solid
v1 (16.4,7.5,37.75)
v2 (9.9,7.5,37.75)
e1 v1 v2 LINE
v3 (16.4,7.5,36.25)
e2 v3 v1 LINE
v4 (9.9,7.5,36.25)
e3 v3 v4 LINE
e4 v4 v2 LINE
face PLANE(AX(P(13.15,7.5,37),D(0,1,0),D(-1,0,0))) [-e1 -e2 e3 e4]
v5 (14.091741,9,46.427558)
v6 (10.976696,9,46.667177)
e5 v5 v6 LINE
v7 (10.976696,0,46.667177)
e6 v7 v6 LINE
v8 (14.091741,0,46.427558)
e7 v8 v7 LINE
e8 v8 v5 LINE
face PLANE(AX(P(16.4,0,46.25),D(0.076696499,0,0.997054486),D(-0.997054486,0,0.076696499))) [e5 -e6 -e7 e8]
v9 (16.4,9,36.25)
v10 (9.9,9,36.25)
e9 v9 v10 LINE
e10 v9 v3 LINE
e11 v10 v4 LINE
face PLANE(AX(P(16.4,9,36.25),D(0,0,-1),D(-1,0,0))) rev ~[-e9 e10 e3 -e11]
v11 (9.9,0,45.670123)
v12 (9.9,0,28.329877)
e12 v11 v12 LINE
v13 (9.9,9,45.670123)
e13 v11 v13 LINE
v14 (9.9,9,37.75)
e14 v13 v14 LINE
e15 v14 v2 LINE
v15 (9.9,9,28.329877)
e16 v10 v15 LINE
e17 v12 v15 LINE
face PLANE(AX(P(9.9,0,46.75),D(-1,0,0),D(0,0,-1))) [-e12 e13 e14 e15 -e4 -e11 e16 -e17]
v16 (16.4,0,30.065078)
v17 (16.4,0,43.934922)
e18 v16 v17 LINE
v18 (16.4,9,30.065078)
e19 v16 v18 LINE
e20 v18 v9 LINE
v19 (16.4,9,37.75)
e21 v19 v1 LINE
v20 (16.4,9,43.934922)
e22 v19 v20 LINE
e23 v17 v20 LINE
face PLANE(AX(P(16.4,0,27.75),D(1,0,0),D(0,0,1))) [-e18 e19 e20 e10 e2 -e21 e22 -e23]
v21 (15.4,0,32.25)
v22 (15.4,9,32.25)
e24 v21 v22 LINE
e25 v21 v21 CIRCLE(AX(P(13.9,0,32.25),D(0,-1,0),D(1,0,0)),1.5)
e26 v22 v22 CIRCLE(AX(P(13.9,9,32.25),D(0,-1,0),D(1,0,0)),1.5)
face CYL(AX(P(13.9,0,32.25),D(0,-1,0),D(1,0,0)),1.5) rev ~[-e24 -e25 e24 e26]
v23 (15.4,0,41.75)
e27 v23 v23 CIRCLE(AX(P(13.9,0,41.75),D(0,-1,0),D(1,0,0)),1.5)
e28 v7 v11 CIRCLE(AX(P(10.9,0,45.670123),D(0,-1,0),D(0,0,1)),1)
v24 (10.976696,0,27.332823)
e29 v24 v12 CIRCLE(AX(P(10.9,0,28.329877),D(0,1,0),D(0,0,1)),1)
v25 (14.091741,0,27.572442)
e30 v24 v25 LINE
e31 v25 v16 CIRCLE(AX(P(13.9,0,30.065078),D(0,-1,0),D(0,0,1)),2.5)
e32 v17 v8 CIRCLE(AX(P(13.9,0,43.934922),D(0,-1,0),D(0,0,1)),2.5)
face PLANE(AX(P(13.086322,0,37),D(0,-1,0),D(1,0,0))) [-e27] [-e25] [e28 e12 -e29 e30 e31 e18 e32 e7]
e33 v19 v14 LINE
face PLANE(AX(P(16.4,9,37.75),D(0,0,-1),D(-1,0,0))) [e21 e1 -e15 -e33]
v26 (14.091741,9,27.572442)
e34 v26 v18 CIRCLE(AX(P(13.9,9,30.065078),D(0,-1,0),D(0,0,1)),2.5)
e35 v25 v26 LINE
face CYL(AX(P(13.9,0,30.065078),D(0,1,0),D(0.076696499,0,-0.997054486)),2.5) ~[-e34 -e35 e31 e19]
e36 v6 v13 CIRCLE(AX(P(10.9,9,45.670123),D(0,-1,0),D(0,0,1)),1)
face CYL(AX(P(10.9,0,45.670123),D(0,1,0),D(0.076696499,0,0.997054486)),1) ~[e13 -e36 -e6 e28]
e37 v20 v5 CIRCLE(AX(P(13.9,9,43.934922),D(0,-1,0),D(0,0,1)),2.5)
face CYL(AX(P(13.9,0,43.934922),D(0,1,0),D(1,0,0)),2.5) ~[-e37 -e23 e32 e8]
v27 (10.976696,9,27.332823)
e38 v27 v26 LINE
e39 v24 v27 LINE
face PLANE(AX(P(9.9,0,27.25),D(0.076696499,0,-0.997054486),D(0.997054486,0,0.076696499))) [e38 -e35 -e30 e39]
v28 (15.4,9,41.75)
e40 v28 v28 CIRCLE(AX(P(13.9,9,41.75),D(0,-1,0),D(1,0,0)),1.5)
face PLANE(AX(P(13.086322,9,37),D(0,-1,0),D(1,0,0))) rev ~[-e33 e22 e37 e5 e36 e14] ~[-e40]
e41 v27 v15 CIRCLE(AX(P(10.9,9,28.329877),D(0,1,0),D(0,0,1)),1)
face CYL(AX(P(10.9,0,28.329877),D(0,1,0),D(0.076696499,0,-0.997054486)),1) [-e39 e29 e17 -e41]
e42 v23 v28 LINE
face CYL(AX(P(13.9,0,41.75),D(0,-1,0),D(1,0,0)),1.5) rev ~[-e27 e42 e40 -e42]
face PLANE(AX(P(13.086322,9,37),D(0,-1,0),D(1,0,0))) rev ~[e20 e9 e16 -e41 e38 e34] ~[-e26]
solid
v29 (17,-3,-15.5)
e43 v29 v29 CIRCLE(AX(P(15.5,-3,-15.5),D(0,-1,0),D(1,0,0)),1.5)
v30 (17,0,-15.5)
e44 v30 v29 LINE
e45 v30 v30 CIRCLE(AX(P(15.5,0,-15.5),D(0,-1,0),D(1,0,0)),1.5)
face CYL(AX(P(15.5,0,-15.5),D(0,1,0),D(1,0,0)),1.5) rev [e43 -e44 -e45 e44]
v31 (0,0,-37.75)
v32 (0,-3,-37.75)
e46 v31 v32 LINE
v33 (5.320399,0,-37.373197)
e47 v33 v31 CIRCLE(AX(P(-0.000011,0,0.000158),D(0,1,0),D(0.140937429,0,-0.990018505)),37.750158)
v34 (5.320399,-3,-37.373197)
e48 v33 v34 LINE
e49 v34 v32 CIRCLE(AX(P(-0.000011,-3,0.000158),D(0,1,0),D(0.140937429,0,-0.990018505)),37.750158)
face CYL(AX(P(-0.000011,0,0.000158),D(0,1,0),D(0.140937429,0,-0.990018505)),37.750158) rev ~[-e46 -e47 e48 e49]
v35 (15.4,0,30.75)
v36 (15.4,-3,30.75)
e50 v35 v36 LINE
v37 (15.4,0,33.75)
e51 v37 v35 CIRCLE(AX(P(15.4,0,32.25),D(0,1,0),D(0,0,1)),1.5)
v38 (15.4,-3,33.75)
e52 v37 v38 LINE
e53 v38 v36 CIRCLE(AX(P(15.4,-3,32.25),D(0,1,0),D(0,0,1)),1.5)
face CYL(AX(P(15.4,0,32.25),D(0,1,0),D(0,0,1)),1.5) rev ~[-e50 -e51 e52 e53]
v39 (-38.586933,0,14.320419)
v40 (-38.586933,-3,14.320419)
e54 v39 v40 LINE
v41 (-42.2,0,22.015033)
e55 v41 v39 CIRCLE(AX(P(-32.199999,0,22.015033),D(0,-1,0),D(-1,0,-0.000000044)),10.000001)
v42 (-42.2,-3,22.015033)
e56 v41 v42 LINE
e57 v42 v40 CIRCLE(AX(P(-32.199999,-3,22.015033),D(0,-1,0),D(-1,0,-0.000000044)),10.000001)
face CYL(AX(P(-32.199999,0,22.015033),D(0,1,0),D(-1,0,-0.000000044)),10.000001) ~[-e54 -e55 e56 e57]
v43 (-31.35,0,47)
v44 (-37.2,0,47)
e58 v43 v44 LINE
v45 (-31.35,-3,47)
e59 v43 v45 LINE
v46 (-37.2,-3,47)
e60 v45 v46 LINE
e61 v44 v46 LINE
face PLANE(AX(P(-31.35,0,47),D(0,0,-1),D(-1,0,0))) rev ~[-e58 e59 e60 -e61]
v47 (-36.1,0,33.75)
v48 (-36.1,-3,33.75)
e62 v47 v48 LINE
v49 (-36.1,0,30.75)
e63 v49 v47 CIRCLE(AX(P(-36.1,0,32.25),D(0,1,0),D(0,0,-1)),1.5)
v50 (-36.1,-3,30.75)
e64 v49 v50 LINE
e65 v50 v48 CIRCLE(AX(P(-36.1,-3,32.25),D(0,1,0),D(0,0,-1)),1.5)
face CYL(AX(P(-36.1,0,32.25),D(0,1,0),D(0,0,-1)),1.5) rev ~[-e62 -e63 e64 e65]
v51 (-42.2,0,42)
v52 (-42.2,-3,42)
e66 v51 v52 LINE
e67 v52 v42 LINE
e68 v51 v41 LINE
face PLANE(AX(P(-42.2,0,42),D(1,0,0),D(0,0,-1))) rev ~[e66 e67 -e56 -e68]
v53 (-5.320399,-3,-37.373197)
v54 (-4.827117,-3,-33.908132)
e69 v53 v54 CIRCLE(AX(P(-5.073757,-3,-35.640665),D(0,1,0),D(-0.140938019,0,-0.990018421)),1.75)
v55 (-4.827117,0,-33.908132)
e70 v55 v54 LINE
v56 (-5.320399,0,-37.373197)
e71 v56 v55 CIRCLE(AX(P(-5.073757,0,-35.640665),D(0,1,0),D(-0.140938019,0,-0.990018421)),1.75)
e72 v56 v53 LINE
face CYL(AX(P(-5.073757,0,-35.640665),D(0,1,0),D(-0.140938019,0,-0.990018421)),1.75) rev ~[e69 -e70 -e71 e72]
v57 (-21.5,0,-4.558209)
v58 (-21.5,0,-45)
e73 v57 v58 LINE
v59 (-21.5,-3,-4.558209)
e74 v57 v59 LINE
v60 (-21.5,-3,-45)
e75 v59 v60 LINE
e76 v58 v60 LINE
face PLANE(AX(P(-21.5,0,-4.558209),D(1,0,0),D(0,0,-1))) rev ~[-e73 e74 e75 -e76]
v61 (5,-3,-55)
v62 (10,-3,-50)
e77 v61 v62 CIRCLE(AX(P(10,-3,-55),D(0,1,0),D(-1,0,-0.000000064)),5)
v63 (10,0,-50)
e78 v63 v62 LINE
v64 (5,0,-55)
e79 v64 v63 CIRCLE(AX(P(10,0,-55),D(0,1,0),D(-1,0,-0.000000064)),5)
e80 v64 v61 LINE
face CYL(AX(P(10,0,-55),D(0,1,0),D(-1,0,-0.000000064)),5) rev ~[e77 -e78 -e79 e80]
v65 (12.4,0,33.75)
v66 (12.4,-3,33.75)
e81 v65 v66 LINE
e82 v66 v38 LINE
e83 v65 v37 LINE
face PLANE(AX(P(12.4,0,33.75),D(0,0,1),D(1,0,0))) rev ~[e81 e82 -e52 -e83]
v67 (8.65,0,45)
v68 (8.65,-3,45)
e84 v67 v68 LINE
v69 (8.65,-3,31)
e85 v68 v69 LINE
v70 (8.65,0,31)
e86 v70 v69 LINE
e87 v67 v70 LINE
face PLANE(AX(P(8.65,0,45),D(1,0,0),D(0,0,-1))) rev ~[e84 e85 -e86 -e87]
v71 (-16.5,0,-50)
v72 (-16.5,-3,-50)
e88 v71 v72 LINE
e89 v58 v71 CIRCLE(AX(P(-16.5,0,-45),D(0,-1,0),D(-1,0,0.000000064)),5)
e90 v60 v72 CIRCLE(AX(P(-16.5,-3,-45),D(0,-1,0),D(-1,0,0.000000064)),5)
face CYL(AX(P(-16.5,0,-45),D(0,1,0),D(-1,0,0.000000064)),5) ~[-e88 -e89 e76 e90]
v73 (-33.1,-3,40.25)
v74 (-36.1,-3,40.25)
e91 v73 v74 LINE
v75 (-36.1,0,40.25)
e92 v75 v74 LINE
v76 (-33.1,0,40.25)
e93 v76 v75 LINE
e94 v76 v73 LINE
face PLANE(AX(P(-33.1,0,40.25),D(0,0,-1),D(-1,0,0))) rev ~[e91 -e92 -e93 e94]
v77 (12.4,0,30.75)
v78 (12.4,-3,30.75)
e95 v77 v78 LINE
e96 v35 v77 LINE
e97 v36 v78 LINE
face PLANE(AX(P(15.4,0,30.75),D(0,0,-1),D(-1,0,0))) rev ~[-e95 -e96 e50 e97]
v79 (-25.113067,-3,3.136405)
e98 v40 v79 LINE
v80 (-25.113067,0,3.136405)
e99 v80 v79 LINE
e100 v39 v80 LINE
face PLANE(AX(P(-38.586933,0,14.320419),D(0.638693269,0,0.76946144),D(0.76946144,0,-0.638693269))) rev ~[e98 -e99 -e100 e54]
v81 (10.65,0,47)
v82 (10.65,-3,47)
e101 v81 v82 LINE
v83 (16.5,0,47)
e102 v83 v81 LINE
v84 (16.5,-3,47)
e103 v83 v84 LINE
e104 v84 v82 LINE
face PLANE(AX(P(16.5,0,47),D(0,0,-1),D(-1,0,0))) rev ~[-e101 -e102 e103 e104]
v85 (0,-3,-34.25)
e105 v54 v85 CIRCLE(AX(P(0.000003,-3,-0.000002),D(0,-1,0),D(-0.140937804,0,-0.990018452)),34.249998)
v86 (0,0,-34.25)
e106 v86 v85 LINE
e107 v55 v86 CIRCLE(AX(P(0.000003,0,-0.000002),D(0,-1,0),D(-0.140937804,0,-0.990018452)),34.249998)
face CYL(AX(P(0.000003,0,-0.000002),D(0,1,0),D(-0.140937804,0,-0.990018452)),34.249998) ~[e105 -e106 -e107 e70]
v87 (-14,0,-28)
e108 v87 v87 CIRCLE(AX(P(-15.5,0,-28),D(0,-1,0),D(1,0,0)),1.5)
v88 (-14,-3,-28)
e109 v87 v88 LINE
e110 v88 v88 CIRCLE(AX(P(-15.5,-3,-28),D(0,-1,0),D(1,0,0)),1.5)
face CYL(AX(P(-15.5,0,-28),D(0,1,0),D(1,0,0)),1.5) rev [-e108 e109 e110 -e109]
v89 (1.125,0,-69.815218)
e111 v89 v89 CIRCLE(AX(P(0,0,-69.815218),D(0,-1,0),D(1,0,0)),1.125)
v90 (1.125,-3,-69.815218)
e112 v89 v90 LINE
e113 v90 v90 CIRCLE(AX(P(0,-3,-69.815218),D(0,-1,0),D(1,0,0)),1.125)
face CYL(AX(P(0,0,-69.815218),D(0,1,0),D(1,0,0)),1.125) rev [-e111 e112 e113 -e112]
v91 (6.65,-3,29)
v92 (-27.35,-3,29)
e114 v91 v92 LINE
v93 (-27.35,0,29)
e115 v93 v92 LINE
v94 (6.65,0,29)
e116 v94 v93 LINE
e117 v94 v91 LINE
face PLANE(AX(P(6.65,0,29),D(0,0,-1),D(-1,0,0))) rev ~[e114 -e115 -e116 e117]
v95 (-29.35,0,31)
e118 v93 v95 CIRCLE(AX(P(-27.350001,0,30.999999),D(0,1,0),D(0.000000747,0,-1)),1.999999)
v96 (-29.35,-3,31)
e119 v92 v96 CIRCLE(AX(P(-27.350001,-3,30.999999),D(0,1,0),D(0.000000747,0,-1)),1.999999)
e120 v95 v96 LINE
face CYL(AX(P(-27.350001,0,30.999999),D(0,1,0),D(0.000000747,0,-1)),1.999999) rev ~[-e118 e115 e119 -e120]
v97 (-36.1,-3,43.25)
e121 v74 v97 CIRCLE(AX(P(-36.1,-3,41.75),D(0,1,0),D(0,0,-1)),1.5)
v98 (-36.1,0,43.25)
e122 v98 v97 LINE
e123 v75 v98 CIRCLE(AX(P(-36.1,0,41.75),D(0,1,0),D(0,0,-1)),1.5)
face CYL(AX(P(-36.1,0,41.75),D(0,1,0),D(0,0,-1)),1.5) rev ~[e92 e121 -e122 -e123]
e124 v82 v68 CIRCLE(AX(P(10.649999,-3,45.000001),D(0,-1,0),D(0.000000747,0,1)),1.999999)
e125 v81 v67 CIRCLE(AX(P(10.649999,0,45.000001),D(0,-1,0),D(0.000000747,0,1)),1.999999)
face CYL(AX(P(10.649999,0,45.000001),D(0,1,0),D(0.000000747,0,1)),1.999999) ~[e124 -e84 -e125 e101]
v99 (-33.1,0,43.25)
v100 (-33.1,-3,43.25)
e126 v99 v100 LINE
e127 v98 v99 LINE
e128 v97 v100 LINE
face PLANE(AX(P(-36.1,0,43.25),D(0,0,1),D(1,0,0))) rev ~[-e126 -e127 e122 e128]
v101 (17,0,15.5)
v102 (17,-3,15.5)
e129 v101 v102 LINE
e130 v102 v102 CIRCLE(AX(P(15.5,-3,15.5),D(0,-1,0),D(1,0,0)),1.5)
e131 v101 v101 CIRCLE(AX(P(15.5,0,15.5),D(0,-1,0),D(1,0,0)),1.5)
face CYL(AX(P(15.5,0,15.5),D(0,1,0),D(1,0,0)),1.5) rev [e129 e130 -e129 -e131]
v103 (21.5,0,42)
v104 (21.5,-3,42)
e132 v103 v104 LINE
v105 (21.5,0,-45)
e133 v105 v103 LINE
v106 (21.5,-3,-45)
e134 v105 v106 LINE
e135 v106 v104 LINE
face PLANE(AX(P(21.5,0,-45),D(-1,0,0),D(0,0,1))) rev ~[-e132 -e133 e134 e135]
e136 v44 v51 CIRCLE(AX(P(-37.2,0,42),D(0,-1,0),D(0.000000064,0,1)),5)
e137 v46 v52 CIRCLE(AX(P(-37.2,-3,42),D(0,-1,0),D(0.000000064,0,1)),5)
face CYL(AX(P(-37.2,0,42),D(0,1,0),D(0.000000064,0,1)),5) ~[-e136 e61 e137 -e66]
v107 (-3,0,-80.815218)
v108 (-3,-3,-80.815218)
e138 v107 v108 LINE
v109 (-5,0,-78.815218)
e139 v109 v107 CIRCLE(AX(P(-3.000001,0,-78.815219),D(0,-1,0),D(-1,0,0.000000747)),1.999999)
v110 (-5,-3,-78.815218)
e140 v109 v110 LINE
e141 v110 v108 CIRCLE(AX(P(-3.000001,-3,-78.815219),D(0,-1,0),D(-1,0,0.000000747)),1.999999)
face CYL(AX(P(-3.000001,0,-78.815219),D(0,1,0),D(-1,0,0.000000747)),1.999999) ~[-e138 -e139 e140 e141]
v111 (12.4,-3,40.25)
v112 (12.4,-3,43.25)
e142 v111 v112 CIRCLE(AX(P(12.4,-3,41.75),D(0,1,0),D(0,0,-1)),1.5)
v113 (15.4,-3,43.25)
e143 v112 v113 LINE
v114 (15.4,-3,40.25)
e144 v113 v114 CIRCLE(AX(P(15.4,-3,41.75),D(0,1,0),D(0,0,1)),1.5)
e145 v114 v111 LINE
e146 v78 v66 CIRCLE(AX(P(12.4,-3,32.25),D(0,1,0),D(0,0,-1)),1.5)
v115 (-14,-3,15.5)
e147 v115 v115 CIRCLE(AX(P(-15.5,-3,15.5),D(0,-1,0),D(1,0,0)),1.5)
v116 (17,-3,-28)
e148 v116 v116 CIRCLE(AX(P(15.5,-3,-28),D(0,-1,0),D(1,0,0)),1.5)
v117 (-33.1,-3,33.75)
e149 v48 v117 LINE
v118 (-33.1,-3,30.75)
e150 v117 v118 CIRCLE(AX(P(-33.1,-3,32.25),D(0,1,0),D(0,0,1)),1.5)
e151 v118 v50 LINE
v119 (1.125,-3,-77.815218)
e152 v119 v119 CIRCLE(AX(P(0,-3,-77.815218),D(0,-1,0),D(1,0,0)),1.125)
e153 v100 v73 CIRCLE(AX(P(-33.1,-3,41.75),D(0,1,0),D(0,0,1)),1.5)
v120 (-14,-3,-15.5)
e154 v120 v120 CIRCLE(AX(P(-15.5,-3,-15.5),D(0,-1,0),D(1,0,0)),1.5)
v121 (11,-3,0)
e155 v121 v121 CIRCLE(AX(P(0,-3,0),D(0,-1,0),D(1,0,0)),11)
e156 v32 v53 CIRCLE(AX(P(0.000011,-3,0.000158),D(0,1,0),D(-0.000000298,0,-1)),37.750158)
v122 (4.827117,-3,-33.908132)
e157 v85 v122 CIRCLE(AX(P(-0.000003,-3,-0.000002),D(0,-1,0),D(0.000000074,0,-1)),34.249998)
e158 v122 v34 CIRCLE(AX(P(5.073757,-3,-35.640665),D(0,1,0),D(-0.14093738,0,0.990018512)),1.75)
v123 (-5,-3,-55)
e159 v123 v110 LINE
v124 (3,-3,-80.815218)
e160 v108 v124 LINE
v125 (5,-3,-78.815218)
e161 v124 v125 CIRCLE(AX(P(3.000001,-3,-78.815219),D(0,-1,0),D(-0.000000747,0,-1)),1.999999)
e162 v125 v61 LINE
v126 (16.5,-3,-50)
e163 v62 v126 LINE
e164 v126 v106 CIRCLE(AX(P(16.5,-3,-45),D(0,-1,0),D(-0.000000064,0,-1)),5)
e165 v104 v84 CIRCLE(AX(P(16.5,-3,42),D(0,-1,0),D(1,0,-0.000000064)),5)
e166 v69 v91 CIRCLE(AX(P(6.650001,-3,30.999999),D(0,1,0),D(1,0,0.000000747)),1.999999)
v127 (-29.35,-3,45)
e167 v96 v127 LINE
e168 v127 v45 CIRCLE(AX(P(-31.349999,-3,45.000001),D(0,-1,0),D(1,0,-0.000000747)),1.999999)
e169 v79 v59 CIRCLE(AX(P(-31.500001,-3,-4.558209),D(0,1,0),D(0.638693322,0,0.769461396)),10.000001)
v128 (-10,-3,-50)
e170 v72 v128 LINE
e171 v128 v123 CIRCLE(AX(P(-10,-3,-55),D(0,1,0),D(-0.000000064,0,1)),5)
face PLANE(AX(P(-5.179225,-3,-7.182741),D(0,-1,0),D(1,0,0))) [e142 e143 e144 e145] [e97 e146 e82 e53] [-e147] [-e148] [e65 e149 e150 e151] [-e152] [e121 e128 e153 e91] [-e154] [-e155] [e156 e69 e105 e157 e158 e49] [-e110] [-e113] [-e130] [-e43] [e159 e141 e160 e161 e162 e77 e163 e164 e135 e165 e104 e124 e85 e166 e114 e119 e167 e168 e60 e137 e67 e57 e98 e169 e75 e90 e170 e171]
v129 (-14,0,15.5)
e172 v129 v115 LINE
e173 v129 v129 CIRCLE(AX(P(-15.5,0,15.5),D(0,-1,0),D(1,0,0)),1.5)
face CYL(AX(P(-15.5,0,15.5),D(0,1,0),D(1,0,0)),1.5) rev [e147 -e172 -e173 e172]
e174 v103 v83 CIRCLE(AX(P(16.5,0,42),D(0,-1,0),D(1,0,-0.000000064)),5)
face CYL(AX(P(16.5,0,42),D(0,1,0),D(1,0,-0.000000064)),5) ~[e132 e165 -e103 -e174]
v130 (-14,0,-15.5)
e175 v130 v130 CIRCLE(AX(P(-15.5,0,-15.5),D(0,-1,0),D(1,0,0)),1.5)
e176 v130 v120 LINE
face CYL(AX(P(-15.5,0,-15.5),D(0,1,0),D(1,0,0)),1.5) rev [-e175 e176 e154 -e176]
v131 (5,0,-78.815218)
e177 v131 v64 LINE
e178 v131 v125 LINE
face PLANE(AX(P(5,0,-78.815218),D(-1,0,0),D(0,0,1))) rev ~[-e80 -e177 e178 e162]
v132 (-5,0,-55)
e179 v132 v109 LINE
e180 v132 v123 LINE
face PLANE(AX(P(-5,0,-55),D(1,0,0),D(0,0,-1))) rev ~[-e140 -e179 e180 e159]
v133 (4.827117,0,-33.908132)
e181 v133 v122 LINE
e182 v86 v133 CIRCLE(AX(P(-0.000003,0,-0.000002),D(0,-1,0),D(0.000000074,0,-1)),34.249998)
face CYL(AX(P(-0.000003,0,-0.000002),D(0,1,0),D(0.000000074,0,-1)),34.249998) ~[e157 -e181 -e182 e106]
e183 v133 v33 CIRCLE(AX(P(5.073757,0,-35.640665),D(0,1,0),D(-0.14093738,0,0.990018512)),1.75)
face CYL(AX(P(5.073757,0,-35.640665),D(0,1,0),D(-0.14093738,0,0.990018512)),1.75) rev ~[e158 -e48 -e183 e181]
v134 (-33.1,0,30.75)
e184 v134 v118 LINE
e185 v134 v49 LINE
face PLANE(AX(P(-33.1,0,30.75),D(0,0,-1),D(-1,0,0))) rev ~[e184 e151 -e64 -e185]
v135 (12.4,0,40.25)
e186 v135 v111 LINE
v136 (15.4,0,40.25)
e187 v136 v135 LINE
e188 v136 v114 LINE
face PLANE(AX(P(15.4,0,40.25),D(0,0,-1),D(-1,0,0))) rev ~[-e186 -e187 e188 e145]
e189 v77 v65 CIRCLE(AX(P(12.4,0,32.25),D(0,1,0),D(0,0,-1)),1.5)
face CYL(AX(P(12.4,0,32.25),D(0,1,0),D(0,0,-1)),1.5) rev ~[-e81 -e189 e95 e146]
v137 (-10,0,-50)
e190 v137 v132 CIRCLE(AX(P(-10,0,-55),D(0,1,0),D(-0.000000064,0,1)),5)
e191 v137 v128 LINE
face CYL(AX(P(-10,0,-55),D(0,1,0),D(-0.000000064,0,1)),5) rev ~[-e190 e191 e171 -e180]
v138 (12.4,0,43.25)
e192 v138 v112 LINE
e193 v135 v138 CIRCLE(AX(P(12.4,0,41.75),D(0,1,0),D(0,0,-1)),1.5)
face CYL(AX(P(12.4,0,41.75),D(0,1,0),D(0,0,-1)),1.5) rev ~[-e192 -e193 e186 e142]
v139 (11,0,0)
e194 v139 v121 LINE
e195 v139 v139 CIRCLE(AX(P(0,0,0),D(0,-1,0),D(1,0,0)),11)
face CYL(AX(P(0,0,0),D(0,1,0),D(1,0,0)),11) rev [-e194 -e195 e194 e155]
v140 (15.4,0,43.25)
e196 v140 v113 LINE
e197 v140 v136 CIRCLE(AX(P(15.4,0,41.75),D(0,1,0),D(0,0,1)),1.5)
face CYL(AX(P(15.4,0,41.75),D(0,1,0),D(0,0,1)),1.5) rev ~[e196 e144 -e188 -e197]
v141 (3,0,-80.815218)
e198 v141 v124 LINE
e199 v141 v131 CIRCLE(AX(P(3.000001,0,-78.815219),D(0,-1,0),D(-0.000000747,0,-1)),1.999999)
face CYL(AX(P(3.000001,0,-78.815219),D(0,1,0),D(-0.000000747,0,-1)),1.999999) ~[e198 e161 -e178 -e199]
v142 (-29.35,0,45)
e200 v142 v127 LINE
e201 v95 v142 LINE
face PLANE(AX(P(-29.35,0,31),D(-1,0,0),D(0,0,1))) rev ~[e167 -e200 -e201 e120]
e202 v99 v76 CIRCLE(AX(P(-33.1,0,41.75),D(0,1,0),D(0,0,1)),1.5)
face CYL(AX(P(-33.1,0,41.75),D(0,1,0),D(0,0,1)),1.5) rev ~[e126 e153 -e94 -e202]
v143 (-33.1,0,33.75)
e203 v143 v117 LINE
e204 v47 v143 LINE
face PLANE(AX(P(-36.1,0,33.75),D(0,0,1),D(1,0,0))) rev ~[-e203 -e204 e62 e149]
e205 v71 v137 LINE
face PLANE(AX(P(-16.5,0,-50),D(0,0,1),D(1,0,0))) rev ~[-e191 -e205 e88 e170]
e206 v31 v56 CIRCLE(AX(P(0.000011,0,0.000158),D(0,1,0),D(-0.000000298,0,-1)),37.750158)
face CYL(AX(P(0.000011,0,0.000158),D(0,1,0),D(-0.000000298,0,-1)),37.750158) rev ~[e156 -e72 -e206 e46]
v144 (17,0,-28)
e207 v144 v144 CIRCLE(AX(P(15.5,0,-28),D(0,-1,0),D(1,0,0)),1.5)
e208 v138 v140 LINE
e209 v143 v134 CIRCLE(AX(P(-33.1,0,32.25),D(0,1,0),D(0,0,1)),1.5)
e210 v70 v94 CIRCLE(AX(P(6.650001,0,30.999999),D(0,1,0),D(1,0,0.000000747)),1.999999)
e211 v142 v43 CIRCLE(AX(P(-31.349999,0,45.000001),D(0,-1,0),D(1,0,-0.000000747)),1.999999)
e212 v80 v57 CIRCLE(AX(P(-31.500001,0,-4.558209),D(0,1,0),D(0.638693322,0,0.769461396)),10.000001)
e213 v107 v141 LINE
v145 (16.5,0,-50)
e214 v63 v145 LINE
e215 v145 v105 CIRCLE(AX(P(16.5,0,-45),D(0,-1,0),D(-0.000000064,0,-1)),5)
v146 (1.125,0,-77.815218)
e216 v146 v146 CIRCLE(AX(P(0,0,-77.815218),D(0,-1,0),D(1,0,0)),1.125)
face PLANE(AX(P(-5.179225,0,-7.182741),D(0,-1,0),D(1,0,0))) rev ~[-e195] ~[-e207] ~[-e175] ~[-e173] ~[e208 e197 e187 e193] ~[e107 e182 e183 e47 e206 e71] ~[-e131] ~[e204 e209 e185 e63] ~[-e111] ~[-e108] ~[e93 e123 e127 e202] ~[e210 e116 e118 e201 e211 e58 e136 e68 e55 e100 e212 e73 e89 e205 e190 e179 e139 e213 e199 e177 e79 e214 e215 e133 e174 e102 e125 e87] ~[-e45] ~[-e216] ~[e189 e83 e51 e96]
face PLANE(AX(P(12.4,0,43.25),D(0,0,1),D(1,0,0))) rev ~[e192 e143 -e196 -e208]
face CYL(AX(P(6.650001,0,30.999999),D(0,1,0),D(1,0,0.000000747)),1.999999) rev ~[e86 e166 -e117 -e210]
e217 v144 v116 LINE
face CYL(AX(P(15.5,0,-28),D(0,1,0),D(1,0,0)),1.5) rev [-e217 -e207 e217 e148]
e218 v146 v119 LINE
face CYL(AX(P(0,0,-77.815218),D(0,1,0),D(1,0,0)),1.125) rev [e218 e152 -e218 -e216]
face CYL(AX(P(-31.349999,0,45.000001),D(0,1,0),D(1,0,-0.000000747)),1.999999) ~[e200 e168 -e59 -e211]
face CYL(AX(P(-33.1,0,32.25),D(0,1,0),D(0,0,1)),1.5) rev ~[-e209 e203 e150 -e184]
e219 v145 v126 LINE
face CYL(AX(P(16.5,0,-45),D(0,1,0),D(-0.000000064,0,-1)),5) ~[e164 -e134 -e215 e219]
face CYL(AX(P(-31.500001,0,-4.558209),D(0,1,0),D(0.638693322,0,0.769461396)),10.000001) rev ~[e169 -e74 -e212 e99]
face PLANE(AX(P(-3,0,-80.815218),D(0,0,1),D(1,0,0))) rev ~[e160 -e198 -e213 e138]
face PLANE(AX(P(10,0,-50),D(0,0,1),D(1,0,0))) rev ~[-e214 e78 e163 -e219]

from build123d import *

# Parameters (mm, degrees)
F1_R     = 1.5
F1_R_2   = 1.125
F1_R_3   = 11
F2_DEPTH = 3
F3_R     = 1.5
F4_DEPTH = 9
F5_W     = 6.5
F5_H     = 1.5
F6_DEPTH = 1.5
F7_R     = 1
F8_R     = 2.5


with BuildPart() as f2:
    # F1 (on Front) → F2 (new body)
    with BuildSketch(Plane.XZ):
        with BuildLine():
            ThreePointArc((16.5, -50), (20.035534, -48.535534), (21.5, -45))
            Line((21.5, -45), (21.5, 42))
            ThreePointArc((21.5, 42), (20.035534, 45.535534), (16.5, 47))
            Line((16.5, 47), (10.65, 47))
            ThreePointArc((10.65, 47), (9.235786, 46.414214), (8.65, 45))
            Line((8.65, 45), (8.65, 31))
            ThreePointArc((8.65, 31), (8.064214, 29.585786), (6.65, 29))
            Line((6.65, 29), (-27.35, 29))
            ThreePointArc((-27.35, 29), (-28.764214, 29.585786), (-29.35, 31))
            Line((-29.35, 31), (-29.35, 45))
            ThreePointArc((-29.35, 45), (-29.935786, 46.414214), (-31.35, 47))
            Line((-31.35, 47), (-37.2, 47))
            ThreePointArc((-37.2, 47), (-40.735534, 45.535534), (-42.2, 42))
            Line((-42.2, 42), (-42.2, 22.015033))
            ThreePointArc((-42.2, 22.015033), (-41.251777, 17.7647), (-38.586933, 14.320419))
            Line((-38.586933, 14.320419), (-25.113067, 3.136405))
            ThreePointArc((-25.113067, 3.136405), (-22.448223, -0.307876), (-21.5, -4.558209))
            Line((-21.5, -4.558209), (-21.5, -45))
            ThreePointArc((-21.5, -45), (-20.035534, -48.535534), (-16.5, -50))
            Line((-16.5, -50), (-10, -50))
            ThreePointArc((-10, -50), (-6.464466, -51.464466), (-5, -55))
            Line((-5, -55), (-5, -78.815218))
            ThreePointArc((-5, -78.815218), (-4.414214, -80.229432), (-3, -80.815218))
            Line((-3, -80.815218), (3, -80.815218))
            ThreePointArc((3, -80.815218), (4.414214, -80.229432), (5, -78.815218))
            Line((5, -78.815218), (5, -55))
            ThreePointArc((5, -55), (6.464466, -51.464466), (10, -50))
            Line((10, -50), (16.5, -50))
        make_face()
        with Locations((-15.5, -28)):
            Circle(F1_R, mode=Mode.SUBTRACT)
        with Locations((0, -77.815218)):
            Circle(F1_R_2, mode=Mode.SUBTRACT)
        with Locations((0, -69.815218)):
            Circle(F1_R_2, mode=Mode.SUBTRACT)
        with BuildLine():
            ThreePointArc((0, -34.25), (2.419604, -34.164426), (4.827117, -33.908132))
            ThreePointArc((4.827117, -33.908132), (6.80629, -35.394024), (5.320399, -37.373197))
            ThreePointArc((5.320399, -37.373197), (2.666863, -37.655681), (0, -37.75))
            ThreePointArc((0, -37.75), (-2.666863, -37.655681), (-5.320399, -37.373197))
            ThreePointArc((-5.320399, -37.373197), (-6.80629, -35.394024), (-4.827117, -33.908132))
            ThreePointArc((-4.827117, -33.908132), (-2.419604, -34.164426), (0, -34.25))
        make_face(mode=Mode.SUBTRACT)
        with Locations((15.5, -28)):
            Circle(F1_R, mode=Mode.SUBTRACT)
        with Locations((-15.5, -15.5)):
            Circle(F1_R, mode=Mode.SUBTRACT)
        with BuildLine():
            ThreePointArc((-36.1, 30.75), (-37.6, 32.25), (-36.1, 33.75))
            Line((-36.1, 33.75), (-33.1, 33.75))
            ThreePointArc((-33.1, 33.75), (-31.6, 32.25), (-33.1, 30.75))
            Line((-33.1, 30.75), (-36.1, 30.75))
        make_face(mode=Mode.SUBTRACT)
        with BuildLine():
            Line((-33.1, 40.25), (-36.1, 40.25))
            ThreePointArc((-36.1, 40.25), (-37.6, 41.75), (-36.1, 43.25))
            Line((-36.1, 43.25), (-33.1, 43.25))
            ThreePointArc((-33.1, 43.25), (-31.6, 41.75), (-33.1, 40.25))
        make_face(mode=Mode.SUBTRACT)
        with Locations((-15.5, 15.5)):
            Circle(F1_R, mode=Mode.SUBTRACT)
        Circle(F1_R_3, mode=Mode.SUBTRACT)
        with Locations((15.5, -15.5)):
            Circle(F1_R, mode=Mode.SUBTRACT)
        with Locations((15.5, 15.5)):
            Circle(F1_R, mode=Mode.SUBTRACT)
        with BuildLine():
            Line((15.4, 30.75), (12.4, 30.75))
            ThreePointArc((12.4, 30.75), (10.9, 32.25), (12.4, 33.75))
            Line((12.4, 33.75), (15.4, 33.75))
            ThreePointArc((15.4, 33.75), (16.9, 32.25), (15.4, 30.75))
        make_face(mode=Mode.SUBTRACT)
        with BuildLine():
            Line((15.4, 40.25), (12.4, 40.25))
            ThreePointArc((12.4, 40.25), (10.9, 41.75), (12.4, 43.25))
            Line((12.4, 43.25), (15.4, 43.25))
            ThreePointArc((15.4, 43.25), (16.9, 41.75), (15.4, 40.25))
        make_face(mode=Mode.SUBTRACT)
    extrude(amount=F2_DEPTH)


with BuildPart() as f4:
    # F3 (on Front) → F4 (new body)
    with BuildSketch(Plane.XZ):
        Polygon((16.4, 27.75), (16.4, 46.25), (9.9, 46.75), (9.9, 27.25), align=None)
        with Locations((13.9, 32.25)):
            Circle(F3_R, mode=Mode.SUBTRACT)
        with Locations((13.9, 41.75)):
            Circle(F3_R, mode=Mode.SUBTRACT)
    extrude(amount=-F4_DEPTH)

    # F5 (on face) → F6 (cut)
    with BuildSketch(Plane(origin=(0, 9, 0), x_dir=(-1, 0, 0), z_dir=(0, 1, 0))):
        with Locations((-13.15, 37)):
            Rectangle(F5_W, F5_H)
    extrude(amount=-F6_DEPTH, mode=Mode.SUBTRACT)

    # F7
    f7_edges = [f4.edges().sort_by_distance(p)[0] for p in [
        (9.9, 4.5, 46.75),
        (9.9, 4.5, 27.25),
    ]]
    fillet(f7_edges, radius=F7_R)

    # F8
    f8_edges = [f4.edges().sort_by_distance(p)[0] for p in [
        (16.4, 4.5, 27.75),
        (16.4, 4.5, 46.25),
    ]]
    fillet(f8_edges, radius=F8_R)


solid = Compound([f2.part, f4.part])
